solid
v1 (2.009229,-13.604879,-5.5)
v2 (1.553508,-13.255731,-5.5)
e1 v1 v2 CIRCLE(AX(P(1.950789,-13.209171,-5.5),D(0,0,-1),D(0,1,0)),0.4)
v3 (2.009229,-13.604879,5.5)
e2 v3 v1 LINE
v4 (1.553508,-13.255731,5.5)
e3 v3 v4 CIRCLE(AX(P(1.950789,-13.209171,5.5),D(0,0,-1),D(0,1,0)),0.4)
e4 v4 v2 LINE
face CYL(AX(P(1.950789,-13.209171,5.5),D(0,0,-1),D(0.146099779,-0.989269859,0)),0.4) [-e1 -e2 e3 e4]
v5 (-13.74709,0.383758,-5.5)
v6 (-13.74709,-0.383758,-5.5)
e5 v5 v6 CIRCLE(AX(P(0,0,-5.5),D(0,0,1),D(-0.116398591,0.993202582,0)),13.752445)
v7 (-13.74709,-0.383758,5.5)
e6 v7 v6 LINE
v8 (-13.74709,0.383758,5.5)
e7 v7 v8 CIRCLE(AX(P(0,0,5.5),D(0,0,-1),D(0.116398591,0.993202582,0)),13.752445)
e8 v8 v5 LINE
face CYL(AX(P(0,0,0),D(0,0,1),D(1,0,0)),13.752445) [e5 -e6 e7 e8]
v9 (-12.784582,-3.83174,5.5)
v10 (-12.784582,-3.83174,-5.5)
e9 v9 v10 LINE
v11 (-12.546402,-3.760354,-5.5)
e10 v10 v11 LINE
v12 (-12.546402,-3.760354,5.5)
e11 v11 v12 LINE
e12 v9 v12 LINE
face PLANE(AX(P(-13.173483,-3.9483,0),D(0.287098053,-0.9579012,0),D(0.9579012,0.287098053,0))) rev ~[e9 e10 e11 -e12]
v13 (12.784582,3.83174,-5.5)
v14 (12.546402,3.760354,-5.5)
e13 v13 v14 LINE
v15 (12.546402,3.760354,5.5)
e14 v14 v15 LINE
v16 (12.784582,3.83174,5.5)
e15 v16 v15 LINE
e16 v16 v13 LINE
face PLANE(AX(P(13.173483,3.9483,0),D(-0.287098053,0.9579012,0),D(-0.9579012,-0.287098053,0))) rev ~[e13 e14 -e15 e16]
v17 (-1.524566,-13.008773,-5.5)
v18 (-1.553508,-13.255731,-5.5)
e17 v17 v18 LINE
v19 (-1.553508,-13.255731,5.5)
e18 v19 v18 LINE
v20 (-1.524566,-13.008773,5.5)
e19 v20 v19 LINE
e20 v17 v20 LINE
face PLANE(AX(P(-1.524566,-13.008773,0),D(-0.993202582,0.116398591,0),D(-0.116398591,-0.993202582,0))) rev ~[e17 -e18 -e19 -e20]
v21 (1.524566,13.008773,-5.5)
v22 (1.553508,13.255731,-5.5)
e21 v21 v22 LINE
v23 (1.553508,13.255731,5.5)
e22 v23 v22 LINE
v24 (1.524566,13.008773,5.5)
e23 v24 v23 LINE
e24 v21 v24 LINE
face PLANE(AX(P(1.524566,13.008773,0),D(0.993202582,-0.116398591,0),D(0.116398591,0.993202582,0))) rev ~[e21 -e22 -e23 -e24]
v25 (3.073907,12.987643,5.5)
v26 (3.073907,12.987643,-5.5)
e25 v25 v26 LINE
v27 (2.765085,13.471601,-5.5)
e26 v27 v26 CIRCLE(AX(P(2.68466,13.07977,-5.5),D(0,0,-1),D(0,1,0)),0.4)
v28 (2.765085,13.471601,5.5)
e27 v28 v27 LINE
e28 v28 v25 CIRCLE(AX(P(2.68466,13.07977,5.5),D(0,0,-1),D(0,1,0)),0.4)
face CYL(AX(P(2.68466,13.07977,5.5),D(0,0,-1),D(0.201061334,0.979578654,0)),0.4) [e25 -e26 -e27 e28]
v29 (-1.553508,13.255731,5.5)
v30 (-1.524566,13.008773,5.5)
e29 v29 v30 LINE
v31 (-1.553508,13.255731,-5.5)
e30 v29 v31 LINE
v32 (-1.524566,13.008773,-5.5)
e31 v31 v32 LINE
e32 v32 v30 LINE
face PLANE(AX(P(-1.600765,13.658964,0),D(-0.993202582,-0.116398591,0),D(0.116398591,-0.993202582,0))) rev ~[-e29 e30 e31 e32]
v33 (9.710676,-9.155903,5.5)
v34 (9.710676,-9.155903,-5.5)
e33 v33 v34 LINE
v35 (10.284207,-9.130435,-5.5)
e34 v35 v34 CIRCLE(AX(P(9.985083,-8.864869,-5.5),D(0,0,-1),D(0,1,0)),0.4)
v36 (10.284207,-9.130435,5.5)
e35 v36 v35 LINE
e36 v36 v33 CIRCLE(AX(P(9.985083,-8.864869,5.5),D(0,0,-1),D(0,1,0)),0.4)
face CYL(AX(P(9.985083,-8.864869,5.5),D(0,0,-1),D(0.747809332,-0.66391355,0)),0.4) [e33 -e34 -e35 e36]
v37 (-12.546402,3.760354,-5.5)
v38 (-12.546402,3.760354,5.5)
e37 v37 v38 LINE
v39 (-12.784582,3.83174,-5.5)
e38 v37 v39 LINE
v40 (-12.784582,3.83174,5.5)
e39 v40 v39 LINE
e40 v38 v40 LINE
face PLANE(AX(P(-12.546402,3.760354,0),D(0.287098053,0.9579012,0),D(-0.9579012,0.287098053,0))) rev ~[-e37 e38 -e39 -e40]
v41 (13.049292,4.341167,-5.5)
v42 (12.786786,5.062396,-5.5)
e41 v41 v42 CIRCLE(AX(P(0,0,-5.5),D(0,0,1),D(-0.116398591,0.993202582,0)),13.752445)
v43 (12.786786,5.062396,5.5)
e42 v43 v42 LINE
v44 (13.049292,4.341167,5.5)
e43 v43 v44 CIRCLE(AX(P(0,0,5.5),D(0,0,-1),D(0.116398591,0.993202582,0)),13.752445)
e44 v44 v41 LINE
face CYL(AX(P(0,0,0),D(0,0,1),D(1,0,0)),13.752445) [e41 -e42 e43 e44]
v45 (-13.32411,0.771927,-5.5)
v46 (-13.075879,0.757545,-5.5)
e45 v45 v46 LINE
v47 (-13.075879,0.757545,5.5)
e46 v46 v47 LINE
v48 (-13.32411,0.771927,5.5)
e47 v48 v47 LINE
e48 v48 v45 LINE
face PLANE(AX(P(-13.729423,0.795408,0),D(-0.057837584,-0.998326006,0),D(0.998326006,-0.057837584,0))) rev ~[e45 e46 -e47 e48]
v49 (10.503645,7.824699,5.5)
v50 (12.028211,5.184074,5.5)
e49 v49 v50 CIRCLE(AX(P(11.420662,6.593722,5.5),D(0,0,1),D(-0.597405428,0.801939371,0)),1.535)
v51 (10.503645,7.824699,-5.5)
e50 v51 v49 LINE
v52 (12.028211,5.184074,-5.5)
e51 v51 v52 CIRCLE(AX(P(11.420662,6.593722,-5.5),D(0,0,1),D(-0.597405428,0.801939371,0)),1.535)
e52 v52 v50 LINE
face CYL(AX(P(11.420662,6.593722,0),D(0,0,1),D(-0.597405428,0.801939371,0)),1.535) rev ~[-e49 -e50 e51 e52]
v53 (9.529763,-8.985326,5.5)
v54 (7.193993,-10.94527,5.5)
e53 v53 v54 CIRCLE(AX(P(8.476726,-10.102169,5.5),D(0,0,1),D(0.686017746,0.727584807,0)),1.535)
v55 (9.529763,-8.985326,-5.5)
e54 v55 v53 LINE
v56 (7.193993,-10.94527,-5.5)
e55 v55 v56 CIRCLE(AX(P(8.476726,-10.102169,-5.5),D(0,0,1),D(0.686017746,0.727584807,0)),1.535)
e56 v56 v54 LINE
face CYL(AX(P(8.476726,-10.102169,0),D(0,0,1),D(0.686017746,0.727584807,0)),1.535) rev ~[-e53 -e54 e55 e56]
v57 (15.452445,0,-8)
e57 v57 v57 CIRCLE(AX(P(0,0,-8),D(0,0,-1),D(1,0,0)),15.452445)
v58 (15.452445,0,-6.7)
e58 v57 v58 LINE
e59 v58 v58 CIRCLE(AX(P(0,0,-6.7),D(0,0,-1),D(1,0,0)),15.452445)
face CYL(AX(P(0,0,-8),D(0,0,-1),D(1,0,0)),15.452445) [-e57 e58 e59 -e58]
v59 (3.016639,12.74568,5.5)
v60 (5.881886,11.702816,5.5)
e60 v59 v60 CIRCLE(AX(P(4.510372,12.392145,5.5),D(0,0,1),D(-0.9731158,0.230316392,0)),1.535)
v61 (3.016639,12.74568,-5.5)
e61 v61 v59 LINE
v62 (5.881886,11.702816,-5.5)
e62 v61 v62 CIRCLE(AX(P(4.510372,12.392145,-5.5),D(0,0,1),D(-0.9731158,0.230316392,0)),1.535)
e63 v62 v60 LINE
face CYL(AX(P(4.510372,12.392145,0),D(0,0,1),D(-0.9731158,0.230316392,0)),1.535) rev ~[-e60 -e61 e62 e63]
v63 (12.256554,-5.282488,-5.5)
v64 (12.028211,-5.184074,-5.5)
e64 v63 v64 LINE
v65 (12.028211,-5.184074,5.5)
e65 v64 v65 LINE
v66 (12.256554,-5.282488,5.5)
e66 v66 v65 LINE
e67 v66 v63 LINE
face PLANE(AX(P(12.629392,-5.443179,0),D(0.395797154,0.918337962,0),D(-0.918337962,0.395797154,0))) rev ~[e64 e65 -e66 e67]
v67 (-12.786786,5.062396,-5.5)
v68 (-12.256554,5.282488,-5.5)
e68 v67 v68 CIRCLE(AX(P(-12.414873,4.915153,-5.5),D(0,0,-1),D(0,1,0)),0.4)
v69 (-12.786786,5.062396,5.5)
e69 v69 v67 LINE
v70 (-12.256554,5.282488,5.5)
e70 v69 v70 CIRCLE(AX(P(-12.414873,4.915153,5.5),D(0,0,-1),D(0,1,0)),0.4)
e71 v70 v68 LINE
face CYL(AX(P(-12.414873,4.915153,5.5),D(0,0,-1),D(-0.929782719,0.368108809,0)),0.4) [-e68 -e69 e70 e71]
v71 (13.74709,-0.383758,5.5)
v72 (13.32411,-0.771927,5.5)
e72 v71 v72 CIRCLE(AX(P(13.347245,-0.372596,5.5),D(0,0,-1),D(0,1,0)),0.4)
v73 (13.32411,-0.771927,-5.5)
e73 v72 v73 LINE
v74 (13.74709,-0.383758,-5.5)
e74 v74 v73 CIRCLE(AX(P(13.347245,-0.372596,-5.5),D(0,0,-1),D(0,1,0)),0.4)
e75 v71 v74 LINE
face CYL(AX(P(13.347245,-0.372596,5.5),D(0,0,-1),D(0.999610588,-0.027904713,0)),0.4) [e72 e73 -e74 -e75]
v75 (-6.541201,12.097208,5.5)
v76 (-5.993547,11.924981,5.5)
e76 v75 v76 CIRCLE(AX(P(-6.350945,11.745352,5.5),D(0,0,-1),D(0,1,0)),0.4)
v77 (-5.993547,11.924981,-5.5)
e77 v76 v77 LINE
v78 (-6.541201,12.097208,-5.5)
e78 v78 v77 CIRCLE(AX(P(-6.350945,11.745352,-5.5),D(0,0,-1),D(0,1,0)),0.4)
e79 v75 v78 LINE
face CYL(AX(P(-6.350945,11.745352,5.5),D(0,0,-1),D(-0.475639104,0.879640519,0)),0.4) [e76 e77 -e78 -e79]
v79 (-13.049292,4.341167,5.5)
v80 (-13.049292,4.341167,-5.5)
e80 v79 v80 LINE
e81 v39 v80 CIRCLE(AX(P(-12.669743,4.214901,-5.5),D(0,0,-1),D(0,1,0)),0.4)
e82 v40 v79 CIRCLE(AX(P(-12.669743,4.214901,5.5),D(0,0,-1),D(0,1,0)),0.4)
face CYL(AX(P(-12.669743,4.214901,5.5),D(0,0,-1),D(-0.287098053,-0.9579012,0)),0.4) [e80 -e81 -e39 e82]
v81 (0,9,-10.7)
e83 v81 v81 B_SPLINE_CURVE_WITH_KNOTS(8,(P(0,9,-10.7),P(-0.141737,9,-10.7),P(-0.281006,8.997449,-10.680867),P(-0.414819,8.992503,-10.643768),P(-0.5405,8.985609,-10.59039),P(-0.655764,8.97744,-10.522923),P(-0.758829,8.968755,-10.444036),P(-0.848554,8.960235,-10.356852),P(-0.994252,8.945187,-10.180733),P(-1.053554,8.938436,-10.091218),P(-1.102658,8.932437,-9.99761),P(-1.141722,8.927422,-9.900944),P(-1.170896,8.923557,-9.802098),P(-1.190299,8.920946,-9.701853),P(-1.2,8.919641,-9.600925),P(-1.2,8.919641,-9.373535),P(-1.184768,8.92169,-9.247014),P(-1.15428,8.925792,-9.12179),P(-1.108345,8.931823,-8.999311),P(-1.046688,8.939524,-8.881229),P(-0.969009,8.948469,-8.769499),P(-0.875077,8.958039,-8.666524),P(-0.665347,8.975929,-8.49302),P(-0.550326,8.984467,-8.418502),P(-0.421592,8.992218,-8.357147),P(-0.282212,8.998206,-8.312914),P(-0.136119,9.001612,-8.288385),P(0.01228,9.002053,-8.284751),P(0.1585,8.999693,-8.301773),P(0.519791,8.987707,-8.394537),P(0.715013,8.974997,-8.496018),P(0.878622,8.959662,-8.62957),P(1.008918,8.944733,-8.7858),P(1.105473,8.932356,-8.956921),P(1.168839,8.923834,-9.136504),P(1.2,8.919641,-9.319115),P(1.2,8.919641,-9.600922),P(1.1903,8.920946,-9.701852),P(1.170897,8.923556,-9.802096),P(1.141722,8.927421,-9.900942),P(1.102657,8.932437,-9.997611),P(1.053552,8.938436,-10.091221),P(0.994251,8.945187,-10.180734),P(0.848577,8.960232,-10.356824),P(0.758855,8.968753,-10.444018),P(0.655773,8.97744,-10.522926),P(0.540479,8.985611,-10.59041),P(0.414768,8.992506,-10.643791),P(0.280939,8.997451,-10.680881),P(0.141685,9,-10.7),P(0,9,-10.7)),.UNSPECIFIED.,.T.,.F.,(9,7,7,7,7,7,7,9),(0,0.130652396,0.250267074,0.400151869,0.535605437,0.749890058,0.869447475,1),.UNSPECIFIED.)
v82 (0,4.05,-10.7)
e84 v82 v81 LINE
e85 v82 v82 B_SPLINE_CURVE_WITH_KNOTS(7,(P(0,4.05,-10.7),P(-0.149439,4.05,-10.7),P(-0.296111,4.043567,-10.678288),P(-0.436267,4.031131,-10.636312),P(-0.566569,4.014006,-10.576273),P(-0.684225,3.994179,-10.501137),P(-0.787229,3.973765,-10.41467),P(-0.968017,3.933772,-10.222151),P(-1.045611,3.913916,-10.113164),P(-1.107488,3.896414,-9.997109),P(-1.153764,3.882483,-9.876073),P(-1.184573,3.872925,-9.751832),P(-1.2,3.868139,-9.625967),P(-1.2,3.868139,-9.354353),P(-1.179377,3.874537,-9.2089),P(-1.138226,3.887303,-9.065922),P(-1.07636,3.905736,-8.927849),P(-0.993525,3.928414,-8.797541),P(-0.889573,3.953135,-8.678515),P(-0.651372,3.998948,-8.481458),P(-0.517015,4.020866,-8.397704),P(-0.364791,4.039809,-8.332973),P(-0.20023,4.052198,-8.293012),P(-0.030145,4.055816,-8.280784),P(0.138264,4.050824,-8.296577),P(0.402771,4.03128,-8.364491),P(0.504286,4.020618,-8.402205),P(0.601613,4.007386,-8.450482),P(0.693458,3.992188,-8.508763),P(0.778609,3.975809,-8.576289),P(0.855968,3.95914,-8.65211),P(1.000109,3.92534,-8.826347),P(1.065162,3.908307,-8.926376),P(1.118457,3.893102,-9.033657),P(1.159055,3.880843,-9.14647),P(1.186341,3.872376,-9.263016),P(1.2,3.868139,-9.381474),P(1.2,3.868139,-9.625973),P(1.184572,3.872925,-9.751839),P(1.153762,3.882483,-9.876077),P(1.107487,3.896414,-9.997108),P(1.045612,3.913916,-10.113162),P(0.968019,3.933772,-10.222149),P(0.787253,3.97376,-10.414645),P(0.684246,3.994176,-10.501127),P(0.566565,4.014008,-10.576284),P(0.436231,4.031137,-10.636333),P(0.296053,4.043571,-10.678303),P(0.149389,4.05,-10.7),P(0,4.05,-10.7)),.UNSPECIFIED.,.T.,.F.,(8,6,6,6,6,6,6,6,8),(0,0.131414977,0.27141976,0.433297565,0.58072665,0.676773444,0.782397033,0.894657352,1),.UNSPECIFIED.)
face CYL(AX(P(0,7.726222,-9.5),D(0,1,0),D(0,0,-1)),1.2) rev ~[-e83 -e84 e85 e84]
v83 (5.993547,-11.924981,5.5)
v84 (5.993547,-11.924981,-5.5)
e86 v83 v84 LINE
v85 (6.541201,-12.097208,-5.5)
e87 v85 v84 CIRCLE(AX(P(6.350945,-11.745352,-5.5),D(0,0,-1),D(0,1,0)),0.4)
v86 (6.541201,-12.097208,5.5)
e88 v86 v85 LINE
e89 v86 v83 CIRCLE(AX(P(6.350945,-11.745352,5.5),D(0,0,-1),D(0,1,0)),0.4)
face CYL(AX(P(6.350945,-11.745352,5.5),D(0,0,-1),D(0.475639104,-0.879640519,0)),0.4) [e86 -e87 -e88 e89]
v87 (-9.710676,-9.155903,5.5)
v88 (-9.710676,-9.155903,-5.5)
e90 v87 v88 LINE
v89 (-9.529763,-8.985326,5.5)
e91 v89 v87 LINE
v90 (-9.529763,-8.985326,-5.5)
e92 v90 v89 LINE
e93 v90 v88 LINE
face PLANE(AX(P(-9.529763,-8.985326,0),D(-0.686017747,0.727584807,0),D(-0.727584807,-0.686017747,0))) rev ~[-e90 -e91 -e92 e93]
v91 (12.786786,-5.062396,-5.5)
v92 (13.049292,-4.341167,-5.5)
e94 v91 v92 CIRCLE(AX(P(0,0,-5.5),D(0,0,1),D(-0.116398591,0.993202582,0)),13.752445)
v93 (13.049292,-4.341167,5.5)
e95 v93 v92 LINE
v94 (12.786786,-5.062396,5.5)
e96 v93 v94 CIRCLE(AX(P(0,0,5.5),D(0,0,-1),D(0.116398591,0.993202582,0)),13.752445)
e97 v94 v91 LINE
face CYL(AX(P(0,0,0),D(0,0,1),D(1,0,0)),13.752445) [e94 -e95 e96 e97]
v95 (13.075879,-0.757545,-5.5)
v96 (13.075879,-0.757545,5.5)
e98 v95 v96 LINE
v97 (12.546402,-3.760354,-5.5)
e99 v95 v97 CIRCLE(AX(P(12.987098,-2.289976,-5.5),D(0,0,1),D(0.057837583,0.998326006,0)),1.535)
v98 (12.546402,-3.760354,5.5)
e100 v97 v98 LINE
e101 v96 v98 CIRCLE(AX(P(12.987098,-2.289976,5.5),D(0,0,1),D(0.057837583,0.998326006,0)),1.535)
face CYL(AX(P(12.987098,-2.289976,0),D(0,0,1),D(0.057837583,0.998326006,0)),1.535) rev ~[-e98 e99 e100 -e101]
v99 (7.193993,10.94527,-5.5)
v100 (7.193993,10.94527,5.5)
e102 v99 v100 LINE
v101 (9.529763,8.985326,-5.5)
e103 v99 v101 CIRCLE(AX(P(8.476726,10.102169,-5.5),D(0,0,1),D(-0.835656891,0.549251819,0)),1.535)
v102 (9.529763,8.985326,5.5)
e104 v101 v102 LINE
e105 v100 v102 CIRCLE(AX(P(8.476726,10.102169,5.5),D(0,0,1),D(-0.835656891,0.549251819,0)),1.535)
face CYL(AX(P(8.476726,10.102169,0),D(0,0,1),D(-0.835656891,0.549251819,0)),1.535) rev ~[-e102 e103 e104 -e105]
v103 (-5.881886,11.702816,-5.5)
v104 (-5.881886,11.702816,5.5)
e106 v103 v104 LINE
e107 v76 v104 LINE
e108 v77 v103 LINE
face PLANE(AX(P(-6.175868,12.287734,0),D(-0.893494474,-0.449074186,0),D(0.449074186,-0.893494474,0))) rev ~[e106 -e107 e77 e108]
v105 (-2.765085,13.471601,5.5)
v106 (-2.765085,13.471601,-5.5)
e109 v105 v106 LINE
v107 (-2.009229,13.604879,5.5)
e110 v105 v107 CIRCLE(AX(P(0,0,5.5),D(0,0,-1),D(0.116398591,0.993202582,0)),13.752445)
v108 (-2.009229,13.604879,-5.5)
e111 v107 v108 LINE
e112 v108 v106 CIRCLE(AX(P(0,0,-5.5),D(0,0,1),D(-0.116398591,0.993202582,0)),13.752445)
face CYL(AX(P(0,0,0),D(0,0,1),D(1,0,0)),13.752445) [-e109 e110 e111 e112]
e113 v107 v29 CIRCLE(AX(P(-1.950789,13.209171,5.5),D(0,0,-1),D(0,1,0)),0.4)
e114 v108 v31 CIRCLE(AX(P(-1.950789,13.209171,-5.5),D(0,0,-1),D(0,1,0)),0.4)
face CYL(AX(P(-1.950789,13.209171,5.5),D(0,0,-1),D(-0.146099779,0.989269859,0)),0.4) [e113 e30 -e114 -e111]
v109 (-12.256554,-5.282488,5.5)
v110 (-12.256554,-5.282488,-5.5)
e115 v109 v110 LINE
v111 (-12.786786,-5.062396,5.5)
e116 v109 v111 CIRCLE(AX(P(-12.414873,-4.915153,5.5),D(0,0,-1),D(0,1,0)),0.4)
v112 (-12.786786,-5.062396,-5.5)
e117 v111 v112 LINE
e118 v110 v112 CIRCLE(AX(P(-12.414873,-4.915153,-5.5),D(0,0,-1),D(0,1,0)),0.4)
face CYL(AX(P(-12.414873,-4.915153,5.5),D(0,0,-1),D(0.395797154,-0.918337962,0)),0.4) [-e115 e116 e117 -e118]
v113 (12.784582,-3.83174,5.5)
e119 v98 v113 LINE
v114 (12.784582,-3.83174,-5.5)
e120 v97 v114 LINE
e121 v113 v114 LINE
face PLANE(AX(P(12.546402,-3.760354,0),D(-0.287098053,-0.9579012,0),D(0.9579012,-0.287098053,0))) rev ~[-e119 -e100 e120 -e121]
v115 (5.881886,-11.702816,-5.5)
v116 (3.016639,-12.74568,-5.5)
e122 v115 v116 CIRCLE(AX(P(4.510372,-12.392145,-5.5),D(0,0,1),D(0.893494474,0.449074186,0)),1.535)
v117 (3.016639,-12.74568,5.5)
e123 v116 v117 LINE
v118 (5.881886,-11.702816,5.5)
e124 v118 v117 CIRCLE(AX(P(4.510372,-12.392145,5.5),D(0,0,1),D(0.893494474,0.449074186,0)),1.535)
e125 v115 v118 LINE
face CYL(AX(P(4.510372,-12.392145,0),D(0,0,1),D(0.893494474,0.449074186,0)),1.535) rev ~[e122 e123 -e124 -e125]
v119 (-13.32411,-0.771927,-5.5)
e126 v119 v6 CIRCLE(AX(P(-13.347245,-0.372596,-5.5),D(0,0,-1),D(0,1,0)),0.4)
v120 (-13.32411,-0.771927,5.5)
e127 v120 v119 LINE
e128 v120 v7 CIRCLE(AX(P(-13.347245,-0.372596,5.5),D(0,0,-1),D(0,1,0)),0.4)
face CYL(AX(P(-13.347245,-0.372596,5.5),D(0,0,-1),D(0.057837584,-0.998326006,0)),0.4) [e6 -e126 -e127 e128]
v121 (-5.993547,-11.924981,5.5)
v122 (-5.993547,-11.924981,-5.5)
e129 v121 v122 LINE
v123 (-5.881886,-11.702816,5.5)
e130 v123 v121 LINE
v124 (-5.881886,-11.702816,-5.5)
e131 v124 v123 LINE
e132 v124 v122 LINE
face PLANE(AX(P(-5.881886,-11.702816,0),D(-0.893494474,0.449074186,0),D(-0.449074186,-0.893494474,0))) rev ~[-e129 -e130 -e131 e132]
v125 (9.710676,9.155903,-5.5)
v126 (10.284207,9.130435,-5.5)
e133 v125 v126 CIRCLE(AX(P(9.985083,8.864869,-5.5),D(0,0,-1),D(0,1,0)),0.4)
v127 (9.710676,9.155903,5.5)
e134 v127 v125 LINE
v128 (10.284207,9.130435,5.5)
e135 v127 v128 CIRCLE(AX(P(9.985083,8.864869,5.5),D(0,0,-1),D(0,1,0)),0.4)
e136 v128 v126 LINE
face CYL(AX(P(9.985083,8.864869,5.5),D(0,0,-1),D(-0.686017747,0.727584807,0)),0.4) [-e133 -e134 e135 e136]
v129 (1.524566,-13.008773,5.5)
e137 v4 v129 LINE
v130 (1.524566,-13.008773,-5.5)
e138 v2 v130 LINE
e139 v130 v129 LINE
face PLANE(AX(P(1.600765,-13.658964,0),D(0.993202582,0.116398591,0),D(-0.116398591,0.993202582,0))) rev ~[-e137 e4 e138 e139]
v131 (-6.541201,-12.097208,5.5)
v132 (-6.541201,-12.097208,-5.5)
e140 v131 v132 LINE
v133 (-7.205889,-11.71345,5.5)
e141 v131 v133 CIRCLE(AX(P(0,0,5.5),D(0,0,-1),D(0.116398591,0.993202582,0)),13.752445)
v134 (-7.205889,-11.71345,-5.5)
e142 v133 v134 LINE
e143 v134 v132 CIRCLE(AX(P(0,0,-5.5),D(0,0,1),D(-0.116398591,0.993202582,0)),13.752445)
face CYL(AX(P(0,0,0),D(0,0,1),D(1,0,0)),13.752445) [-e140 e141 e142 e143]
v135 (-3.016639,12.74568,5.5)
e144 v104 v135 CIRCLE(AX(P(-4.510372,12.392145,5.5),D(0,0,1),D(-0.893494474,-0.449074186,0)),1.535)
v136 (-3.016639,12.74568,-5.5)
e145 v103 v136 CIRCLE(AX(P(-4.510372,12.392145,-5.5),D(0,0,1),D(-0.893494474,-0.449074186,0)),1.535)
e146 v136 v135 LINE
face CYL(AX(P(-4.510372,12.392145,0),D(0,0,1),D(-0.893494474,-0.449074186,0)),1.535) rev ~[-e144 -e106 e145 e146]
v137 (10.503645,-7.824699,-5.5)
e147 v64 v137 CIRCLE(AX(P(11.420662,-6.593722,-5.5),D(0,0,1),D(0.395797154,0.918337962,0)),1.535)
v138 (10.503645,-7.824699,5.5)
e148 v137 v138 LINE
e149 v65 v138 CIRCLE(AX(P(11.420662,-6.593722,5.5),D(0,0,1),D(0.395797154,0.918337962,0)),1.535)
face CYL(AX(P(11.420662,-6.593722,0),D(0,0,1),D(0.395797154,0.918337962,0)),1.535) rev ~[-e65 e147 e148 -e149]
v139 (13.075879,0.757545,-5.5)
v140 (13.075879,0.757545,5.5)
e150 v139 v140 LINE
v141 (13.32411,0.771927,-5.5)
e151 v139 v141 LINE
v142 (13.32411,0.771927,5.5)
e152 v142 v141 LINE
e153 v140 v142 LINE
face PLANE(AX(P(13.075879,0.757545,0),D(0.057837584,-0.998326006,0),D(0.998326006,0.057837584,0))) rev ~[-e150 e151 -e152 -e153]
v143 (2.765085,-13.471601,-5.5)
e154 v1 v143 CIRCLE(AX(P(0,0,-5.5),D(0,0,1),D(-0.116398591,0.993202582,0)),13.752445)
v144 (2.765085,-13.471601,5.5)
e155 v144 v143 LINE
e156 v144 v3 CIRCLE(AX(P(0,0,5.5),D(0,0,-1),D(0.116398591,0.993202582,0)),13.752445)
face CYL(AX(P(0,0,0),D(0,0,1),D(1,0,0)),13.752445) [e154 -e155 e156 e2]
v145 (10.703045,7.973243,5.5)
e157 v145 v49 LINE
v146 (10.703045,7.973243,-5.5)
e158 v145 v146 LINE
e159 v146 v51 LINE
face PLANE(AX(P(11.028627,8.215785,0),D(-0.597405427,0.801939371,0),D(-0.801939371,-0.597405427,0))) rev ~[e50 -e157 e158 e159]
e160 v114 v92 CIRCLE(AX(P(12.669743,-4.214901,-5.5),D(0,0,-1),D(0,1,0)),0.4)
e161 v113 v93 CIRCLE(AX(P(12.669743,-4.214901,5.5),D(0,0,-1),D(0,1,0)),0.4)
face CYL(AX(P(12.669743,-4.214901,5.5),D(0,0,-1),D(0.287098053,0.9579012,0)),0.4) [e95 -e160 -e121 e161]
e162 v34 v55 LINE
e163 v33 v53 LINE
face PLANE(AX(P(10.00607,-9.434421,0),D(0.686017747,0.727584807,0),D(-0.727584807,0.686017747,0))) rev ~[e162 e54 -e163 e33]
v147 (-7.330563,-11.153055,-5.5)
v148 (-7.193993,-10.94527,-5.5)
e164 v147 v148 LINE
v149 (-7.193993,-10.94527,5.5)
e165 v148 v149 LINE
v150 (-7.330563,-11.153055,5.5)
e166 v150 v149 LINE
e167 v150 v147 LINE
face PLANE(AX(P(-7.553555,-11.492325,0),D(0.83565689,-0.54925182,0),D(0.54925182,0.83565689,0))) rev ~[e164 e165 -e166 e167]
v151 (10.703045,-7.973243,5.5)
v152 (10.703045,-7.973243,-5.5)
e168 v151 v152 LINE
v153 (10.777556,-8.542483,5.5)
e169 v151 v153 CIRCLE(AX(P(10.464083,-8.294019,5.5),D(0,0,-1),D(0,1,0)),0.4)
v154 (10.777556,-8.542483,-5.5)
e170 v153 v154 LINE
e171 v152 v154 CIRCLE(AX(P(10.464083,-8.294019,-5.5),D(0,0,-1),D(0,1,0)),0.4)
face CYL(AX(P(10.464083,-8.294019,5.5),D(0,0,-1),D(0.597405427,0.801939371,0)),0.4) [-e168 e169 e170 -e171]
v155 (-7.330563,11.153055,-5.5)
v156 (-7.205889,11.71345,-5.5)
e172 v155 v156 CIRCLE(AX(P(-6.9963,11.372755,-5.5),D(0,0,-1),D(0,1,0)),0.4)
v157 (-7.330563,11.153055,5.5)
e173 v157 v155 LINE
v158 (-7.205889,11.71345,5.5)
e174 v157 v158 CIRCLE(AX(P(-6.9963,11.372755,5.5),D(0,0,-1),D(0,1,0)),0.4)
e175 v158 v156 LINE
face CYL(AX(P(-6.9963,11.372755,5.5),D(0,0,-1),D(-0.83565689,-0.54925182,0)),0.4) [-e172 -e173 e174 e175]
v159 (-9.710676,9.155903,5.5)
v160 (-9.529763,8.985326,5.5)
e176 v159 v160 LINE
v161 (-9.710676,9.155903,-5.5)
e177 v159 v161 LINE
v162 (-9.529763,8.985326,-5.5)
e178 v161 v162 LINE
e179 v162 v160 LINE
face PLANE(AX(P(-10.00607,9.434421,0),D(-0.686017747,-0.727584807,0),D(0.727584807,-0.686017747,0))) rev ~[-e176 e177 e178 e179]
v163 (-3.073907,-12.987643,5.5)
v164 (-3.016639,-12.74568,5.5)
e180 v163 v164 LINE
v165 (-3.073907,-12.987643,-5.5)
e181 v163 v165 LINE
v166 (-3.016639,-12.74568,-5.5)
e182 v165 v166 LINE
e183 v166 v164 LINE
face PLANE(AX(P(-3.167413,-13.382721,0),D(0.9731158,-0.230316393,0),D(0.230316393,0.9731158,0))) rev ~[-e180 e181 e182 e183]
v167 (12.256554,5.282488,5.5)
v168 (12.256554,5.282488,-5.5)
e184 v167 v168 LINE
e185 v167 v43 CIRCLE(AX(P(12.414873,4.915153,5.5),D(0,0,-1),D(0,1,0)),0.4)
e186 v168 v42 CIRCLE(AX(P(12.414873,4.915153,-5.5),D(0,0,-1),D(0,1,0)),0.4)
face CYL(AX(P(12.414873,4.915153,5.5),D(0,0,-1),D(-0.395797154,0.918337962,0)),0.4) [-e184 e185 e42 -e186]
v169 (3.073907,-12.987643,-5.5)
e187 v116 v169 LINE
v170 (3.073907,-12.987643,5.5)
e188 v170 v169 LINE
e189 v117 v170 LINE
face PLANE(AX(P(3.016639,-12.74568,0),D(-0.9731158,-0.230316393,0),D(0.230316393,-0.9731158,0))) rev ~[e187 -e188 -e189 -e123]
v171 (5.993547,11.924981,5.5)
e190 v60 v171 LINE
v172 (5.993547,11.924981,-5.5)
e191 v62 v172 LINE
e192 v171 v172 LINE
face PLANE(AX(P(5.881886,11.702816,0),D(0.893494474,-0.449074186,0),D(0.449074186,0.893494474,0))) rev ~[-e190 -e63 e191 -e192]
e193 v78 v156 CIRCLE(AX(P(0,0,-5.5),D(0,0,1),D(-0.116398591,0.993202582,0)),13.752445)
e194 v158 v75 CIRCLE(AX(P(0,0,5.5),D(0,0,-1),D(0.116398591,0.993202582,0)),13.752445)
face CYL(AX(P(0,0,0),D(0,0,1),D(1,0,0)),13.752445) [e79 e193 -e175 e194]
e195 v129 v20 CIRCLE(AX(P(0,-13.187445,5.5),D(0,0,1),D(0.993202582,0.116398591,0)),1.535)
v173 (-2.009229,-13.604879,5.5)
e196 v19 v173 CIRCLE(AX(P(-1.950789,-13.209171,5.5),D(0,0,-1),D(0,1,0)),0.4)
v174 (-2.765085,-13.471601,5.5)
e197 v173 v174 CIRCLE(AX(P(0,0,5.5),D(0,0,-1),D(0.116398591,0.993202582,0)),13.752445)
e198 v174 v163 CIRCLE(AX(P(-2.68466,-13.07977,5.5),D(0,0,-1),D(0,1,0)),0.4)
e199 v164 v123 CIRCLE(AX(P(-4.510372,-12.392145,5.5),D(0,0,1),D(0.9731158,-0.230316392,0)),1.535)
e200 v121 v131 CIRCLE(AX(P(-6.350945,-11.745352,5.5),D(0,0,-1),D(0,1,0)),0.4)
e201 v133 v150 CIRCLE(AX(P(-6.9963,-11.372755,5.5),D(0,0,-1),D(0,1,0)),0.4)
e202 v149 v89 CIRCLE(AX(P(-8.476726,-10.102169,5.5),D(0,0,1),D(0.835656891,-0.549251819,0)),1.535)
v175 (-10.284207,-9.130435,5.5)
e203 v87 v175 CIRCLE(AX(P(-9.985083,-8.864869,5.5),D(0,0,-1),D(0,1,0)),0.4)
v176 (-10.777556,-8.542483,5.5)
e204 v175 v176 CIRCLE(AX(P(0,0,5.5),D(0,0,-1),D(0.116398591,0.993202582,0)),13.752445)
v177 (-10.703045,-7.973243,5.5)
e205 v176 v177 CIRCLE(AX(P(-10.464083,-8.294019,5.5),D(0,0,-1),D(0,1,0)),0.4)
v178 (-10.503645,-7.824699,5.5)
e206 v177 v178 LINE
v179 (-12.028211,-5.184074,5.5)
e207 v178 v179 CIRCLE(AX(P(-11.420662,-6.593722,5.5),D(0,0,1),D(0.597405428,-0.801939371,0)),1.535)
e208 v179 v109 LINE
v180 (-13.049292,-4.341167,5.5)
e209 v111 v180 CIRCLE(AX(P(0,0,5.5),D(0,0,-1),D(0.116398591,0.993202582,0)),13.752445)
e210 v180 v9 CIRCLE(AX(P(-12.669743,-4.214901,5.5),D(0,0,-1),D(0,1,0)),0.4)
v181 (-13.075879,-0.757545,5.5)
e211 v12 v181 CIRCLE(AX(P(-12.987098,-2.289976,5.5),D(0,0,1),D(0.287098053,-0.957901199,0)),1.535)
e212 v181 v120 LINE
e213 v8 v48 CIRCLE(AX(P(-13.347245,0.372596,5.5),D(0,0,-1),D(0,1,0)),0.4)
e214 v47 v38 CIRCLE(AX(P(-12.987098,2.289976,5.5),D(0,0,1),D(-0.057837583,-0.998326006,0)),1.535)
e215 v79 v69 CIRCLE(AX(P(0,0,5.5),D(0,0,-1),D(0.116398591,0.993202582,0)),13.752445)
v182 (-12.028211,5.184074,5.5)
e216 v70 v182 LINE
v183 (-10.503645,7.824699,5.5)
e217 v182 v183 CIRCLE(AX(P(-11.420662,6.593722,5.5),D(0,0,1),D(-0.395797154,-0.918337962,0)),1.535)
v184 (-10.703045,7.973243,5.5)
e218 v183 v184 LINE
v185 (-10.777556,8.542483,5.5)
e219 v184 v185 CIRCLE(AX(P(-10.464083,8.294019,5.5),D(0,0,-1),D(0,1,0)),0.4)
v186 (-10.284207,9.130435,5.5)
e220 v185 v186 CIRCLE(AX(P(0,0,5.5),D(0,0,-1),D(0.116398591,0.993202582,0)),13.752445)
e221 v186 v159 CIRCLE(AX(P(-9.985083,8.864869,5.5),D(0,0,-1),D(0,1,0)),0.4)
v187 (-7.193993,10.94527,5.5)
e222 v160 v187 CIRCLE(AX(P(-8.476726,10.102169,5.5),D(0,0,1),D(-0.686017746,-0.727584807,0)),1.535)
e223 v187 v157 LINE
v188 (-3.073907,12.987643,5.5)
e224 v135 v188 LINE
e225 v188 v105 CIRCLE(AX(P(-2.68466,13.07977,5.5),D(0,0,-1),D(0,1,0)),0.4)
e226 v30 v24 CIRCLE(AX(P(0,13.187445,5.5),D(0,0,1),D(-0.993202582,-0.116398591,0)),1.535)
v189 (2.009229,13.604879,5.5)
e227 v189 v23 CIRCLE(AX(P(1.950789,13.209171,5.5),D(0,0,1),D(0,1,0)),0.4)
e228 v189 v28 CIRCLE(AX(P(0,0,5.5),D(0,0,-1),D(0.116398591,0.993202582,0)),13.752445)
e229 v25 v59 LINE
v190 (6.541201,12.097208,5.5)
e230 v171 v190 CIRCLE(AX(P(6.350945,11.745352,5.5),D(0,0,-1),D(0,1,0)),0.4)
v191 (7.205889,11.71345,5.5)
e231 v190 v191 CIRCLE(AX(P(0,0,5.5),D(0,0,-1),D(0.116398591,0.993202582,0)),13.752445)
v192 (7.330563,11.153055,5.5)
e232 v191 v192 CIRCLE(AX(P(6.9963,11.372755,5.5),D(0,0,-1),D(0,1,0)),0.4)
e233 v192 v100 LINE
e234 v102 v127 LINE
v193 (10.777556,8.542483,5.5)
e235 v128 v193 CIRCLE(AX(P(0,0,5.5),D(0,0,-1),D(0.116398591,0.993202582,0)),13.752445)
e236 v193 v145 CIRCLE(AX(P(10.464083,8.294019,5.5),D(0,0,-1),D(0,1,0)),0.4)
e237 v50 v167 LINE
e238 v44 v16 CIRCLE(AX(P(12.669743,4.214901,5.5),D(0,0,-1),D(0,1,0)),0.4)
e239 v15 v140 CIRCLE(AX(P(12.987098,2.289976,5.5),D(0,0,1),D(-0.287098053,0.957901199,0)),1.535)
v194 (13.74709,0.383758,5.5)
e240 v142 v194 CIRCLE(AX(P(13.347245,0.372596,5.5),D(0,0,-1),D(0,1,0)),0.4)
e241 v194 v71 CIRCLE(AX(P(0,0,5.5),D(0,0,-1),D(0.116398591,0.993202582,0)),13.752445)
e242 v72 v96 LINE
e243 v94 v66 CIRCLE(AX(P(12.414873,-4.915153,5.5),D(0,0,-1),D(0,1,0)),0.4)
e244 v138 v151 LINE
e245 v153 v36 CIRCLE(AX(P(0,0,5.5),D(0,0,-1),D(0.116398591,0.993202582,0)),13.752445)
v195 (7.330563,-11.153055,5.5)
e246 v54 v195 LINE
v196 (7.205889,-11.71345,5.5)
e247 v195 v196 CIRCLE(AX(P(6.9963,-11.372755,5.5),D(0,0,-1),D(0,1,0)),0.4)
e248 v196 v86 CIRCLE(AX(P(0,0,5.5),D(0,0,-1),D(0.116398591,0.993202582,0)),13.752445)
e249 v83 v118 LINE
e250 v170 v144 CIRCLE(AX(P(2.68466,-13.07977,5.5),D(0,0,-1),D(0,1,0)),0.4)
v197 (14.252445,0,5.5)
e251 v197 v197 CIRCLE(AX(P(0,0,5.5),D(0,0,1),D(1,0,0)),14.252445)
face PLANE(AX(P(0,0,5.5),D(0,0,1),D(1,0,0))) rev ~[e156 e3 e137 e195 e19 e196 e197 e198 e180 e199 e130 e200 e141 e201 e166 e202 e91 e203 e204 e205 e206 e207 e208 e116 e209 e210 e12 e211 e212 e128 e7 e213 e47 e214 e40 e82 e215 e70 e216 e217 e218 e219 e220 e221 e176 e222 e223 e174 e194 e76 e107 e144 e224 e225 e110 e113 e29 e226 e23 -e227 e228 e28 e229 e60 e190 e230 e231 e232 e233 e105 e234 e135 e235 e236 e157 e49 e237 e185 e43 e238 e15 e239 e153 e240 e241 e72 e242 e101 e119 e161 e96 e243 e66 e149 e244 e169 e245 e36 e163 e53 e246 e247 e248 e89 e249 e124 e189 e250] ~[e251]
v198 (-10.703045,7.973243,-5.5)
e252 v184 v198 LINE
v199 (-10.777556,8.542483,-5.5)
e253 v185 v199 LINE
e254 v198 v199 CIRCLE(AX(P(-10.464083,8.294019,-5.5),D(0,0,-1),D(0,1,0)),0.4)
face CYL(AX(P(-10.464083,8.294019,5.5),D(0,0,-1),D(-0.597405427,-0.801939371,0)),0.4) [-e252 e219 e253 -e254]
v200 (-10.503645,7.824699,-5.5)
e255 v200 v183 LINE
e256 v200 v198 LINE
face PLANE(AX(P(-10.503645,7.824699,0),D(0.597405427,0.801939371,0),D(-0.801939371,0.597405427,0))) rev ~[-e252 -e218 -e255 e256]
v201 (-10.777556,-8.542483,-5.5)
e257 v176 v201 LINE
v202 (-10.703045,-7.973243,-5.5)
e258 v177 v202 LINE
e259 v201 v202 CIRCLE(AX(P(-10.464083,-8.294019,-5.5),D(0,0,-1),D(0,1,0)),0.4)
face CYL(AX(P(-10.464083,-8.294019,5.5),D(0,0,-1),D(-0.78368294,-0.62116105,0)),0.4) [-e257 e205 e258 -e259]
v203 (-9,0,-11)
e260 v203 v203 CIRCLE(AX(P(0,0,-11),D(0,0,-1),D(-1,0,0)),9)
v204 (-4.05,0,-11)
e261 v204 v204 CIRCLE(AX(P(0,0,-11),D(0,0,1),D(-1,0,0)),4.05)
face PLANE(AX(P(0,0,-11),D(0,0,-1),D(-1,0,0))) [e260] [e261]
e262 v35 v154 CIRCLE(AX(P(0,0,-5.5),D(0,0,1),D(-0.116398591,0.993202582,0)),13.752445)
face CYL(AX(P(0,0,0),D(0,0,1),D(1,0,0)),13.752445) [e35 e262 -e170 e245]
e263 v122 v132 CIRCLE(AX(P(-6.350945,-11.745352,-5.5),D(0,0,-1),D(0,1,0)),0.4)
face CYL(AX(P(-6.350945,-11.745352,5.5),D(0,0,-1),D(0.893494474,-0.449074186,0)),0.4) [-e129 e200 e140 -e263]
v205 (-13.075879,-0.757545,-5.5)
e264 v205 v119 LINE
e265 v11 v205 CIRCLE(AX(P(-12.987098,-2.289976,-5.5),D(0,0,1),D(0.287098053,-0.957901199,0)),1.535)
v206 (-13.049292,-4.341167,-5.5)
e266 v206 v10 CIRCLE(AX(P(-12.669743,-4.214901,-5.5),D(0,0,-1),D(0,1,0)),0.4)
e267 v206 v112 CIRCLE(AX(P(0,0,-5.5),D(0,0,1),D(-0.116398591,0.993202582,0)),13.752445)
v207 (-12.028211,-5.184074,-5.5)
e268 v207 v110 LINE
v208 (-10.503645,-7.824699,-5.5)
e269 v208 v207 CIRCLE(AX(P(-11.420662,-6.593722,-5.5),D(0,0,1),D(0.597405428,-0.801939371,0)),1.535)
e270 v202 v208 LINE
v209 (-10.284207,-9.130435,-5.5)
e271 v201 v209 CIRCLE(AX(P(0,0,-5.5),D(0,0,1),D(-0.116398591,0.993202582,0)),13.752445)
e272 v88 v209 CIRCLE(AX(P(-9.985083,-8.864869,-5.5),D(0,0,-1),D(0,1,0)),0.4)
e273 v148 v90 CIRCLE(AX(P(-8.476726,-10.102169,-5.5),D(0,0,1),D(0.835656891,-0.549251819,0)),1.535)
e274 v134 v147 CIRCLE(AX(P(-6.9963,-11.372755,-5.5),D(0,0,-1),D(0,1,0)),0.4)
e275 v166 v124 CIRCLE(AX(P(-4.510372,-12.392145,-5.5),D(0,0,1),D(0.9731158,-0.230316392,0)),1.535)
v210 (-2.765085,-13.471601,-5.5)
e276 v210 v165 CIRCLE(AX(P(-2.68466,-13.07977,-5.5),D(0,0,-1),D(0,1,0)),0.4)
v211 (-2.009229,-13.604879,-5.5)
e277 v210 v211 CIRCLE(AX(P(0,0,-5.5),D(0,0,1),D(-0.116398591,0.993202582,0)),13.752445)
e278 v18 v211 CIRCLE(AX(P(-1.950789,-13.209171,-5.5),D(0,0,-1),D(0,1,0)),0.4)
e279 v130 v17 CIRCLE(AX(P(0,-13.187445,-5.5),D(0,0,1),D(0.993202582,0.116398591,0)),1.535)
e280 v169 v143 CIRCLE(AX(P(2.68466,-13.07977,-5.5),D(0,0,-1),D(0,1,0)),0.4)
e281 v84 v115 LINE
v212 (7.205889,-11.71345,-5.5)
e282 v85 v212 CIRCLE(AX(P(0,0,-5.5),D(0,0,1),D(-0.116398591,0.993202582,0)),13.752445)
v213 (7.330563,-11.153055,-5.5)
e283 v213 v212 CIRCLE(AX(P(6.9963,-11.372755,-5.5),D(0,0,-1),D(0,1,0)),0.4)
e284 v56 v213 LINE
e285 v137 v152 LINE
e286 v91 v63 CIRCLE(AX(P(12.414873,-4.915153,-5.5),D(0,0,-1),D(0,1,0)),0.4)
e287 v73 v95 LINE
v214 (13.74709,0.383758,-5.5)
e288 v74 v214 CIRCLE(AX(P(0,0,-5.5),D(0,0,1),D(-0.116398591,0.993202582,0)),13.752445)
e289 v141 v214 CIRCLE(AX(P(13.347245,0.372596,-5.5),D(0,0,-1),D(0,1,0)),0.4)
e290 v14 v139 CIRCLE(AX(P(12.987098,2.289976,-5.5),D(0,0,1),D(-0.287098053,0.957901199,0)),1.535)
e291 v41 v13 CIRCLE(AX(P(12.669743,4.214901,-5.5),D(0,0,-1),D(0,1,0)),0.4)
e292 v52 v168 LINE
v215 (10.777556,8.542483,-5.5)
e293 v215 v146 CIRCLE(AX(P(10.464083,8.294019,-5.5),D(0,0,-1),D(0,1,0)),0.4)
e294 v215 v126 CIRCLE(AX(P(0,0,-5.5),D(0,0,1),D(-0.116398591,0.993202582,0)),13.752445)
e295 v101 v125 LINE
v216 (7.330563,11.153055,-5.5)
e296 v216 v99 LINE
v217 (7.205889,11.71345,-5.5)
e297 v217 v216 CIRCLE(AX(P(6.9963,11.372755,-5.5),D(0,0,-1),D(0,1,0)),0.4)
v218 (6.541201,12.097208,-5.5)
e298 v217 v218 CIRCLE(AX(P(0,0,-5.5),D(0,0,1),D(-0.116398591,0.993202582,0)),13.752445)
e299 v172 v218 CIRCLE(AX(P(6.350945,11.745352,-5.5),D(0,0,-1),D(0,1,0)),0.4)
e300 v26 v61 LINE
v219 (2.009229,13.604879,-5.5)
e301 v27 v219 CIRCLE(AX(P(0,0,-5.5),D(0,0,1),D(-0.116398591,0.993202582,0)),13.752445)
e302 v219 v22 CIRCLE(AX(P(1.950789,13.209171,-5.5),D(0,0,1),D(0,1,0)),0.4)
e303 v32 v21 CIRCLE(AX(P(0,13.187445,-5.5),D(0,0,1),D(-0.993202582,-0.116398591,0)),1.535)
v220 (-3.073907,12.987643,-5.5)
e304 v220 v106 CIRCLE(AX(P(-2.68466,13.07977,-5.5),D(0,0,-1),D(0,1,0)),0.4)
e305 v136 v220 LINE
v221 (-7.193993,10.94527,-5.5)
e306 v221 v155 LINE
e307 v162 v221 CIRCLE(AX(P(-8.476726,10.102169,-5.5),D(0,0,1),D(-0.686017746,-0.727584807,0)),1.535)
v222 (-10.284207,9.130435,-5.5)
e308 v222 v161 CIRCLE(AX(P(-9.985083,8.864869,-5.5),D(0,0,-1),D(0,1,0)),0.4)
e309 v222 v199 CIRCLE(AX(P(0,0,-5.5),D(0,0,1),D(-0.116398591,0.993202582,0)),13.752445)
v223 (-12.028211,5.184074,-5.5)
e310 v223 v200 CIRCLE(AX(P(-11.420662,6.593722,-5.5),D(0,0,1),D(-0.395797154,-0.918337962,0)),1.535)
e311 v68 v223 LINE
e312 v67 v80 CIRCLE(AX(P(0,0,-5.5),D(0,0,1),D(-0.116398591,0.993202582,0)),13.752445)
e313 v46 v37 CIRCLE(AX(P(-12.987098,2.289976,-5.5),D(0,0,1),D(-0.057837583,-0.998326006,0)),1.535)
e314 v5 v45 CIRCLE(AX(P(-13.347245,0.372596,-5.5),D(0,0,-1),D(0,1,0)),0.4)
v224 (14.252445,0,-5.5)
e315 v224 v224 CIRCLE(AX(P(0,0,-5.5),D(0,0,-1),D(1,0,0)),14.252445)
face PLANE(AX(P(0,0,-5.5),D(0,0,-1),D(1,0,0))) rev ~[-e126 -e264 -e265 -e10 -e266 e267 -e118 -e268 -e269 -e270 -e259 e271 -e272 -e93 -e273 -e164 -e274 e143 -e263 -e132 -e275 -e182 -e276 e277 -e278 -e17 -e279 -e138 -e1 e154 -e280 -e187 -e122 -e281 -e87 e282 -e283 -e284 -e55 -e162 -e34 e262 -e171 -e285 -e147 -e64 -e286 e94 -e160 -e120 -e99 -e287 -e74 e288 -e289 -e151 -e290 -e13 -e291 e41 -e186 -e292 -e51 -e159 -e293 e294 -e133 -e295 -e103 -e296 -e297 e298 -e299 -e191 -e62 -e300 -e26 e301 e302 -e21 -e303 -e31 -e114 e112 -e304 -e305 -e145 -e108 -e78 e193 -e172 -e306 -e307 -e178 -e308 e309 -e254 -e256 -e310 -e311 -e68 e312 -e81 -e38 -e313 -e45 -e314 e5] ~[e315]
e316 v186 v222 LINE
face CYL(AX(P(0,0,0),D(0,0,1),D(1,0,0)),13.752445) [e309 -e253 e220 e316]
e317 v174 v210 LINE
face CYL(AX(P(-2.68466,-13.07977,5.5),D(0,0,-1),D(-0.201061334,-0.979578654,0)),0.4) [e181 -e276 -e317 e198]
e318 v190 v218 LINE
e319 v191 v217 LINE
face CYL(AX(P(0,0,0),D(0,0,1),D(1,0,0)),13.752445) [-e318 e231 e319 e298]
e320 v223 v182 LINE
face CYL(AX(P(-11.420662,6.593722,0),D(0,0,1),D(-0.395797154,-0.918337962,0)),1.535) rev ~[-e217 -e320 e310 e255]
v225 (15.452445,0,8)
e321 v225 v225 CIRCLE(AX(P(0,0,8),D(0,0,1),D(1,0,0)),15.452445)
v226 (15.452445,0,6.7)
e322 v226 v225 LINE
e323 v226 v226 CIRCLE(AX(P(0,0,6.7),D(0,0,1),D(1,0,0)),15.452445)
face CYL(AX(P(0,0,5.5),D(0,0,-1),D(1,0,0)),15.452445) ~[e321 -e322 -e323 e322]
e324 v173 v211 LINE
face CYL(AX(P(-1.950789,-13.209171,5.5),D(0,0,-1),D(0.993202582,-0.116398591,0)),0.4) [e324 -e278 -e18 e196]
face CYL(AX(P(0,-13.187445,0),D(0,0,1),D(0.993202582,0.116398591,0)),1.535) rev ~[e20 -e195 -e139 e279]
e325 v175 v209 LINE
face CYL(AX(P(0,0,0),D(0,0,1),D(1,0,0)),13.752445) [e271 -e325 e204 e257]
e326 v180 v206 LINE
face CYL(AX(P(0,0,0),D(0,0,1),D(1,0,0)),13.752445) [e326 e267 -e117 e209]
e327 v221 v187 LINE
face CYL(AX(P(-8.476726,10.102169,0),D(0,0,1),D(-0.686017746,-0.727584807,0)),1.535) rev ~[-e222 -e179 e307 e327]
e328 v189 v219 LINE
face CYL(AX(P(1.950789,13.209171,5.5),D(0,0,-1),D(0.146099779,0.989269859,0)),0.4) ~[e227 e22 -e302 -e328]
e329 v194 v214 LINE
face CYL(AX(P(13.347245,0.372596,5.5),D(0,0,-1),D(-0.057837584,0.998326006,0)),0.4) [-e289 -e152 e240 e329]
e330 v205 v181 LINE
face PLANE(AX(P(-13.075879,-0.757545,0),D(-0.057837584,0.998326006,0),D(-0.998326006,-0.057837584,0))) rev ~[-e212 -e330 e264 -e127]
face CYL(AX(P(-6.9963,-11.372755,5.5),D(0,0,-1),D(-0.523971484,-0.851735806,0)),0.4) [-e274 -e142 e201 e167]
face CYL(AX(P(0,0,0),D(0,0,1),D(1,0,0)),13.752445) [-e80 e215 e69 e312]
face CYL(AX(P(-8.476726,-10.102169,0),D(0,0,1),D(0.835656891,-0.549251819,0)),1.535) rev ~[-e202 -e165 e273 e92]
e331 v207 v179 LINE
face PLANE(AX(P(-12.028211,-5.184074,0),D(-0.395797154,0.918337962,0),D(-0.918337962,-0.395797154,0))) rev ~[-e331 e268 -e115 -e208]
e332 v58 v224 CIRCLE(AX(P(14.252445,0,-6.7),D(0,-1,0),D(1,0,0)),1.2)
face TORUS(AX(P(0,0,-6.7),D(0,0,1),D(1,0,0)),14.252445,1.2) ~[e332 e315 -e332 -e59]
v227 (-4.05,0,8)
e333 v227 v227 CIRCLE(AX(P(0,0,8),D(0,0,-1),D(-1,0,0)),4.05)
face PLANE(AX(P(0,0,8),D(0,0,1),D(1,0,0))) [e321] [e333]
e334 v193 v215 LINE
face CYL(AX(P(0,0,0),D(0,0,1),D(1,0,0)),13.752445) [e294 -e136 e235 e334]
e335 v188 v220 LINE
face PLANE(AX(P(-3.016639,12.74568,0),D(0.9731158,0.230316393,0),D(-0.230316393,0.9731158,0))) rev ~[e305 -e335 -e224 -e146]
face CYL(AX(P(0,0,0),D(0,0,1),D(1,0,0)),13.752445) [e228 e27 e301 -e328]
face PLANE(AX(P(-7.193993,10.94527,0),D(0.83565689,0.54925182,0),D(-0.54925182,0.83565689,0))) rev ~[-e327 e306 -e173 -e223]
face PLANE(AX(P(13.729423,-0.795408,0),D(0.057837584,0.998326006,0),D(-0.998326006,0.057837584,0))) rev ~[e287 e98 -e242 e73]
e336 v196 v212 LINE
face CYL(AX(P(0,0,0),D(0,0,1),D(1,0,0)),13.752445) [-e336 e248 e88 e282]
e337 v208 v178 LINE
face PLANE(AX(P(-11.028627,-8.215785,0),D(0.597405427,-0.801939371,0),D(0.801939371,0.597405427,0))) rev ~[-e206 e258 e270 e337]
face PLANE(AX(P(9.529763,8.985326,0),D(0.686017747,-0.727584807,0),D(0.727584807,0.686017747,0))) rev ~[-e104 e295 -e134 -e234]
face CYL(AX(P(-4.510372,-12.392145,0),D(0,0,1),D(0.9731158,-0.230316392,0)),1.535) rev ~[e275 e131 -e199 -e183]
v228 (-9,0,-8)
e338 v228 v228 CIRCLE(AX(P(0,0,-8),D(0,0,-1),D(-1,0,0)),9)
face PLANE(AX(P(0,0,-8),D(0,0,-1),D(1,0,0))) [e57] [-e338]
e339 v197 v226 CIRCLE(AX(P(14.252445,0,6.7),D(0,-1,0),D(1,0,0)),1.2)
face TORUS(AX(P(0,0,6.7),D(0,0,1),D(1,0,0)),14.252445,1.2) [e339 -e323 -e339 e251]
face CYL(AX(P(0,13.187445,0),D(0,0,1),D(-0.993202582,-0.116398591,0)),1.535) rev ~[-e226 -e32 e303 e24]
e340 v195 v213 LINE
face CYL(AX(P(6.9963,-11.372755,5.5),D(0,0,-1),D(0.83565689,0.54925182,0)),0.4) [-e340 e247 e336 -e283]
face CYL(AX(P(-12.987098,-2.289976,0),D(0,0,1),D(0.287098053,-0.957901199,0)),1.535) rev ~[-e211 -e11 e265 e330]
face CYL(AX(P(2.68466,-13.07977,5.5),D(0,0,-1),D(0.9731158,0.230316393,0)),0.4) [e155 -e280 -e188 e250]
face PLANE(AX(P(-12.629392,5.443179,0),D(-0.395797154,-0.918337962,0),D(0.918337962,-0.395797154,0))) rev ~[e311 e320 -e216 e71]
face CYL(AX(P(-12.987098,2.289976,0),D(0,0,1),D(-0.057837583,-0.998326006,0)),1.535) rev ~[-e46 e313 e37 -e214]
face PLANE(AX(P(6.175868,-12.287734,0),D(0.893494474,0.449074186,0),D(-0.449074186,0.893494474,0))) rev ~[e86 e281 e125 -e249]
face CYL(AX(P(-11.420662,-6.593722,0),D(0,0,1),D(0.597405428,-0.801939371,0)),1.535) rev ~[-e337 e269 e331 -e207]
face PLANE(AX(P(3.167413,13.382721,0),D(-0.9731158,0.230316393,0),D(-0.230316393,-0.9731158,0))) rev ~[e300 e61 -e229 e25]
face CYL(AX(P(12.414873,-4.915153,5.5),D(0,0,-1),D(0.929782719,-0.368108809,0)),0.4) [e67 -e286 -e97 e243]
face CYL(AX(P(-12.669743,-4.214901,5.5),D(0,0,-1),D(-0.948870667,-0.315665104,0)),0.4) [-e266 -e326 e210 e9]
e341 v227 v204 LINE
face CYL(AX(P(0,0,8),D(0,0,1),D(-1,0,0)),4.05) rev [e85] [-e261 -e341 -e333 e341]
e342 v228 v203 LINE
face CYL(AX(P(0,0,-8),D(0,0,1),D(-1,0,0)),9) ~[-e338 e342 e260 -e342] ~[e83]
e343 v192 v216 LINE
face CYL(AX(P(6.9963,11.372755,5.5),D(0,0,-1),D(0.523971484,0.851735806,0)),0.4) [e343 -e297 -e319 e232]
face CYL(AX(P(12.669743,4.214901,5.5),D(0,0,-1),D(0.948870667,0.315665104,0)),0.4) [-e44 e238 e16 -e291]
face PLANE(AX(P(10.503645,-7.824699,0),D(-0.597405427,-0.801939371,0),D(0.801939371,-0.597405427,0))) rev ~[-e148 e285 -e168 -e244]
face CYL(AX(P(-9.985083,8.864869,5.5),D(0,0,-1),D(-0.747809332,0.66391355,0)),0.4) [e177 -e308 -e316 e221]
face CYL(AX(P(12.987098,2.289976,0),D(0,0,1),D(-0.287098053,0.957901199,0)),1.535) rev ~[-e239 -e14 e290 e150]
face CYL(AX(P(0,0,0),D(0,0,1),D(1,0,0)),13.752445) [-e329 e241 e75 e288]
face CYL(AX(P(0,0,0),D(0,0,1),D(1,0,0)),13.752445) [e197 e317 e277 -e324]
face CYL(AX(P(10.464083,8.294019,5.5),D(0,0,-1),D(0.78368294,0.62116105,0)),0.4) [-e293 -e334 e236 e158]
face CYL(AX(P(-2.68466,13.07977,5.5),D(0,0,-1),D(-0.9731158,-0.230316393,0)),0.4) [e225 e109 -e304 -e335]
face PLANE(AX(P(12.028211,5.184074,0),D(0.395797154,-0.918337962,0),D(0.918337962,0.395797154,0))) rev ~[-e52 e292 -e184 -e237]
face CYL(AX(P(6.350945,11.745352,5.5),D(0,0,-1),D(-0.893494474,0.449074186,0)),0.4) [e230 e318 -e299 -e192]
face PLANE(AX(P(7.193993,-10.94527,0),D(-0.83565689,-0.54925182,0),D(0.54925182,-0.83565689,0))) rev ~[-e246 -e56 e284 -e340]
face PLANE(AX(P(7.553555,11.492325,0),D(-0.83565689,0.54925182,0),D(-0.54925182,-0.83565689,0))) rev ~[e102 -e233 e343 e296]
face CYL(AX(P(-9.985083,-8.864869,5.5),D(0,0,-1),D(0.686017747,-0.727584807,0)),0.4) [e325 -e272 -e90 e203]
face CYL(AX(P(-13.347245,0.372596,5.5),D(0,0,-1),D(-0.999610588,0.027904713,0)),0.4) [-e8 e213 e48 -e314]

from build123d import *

# Parameters (mm, degrees)
SKETCH_3_R                       = 13.752444878
EXTRUDE_2_DEPTH                  = 5.5
CUT_EXTRUDE_2_DEPTH              = 21.211617458
FILLET_1_R                       = 0.4
PATTERN_CIRCULAR_1_COUNT         = 18
FILLET_1_OF_PATTERN_CIRCULAR_1_R = 0.4
SKETCH_12_R                      = 15.452444878
EXTRUDE_4_DEPTH                  = 2.5
EXTRUDE_START                    = 2.5
SKETCH_13_R                      = 15.452444878
EXTRUDE_5_DEPTH                  = 2.5
FILLET_2_R                       = 1.2
SKETCH_5_R                       = 9
EXTRUDE_3_DEPTH                  = 3
SKETCH_4_R                       = 4.05
CUT_EXTRUDE_3_DEPTH              = 29.957833231
SKETCH_8_W                       = 1.2
SKETCH_8_H                       = 15.452444878


with BuildPart() as part:
    # 스케치3 → 보스-돌출2 (new, symmetric)
    with BuildSketch(Plane.XY):
        Circle(SKETCH_3_R)
    extrude(amount=EXTRUDE_2_DEPTH, both=True)

    # 스케치3<3> → 컷-돌출2 (cut, symmetric)
    with BuildSketch(Plane.XY):
        with BuildLine():
            Line((-1.600765204, 13.658963756), (-1.524565963, 13.008773041))
            ThreePointArc((-1.524565963, 13.008773041), (0, 11.652444878), (1.524565963, 13.008773041))
            Line((1.524565963, 13.008773041), (1.600765204, 13.658963756))
            ThreePointArc((1.600765204, 13.658963756), (0, 13.752444878), (-1.600765204, 13.658963756))
        make_face()
    cut_extrude_2 = extrude(amount=CUT_EXTRUDE_2_DEPTH, both=True, mode=Mode.SUBTRACT)

    # 필렛1
    fillet_1_edges = [part.edges().sort_by_distance(p)[0] for p in [
        (1.600765204, 13.658963756, 0),
        (-1.600765204, 13.658963756, 0),
    ]]
    fillet(fillet_1_edges, radius=FILLET_1_R)

    # 원형 패턴1: 컷-돌출2 ×18 about axis
    pattern_circular_1_axis = Axis((0, 0, 5.5), (0, 0, -1))
    for i in range(1, PATTERN_CIRCULAR_1_COUNT):
        add(cut_extrude_2.rotate(pattern_circular_1_axis, i * 360 / PATTERN_CIRCULAR_1_COUNT), mode=Mode.SUBTRACT)

    # 필렛1 of 원형 패턴1
    fillet_1_of_pattern_circular_1_edges = [part.edges().sort_by_distance(p)[0] for p in [
        (6.175867991, 12.287733505, 0),
        (3.167413492, 13.382721394, 0),
        (10.006069953, 9.434421245, 0),
        (7.553555375, 11.492325323, 0),
        (12.629392204, 5.443178546, 0),
        (11.028627, 8.21578521, 0),
        (13.729423366, 0.795408182, 0),
        (13.173483445, 3.948300149, 0),
        (13.173483445, -3.948300149, 0),
        (13.729423366, -0.795408182, 0),
        (11.028627, -8.21578521, 0),
        (12.629392204, -5.443178546, 0),
        (7.553555375, -11.492325323, 0),
        (10.006069953, -9.434421245, 0),
        (3.167413492, -13.382721394, 0),
        (6.175867991, -12.287733505, 0),
        (-1.600765204, -13.658963756, 0),
        (1.600765204, -13.658963756, 0),
        (-6.175867991, -12.287733505, 0),
        (-3.167413492, -13.382721394, 0),
        (-10.006069953, -9.434421245, 0),
        (-7.553555375, -11.492325323, 0),
        (-12.629392204, -5.443178546, 0),
        (-11.028627, -8.21578521, 0),
        (-13.729423366, -0.795408182, 0),
        (-13.173483445, -3.948300149, 0),
        (-13.173483445, 3.948300149, 0),
        (-13.729423366, 0.795408182, 0),
        (-11.028627, 8.21578521, 0),
        (-12.629392204, 5.443178546, 0),
        (-7.553555375, 11.492325323, 0),
        (-10.006069953, 9.434421245, 0),
        (-3.167413492, 13.382721394, 0),
        (-6.175867991, 12.287733505, 0),
    ]]
    fillet(fillet_1_of_pattern_circular_1_edges, radius=FILLET_1_OF_PATTERN_CIRCULAR_1_R)

    # 스케치12 → 보스-돌출4 (add)
    with BuildSketch(Plane.XY.offset(5.5)):
        Circle(SKETCH_12_R)
    extrude(amount=EXTRUDE_4_DEPTH)

    # 스케치13 → 보스-돌출5 (add)
    with BuildSketch(Plane(origin=(0, 0, -5.5), x_dir=(-1, 0, 0), z_dir=(0, 0, -1)).offset(EXTRUDE_START)):
        Circle(SKETCH_13_R)
    extrude(amount=-EXTRUDE_5_DEPTH)

    # 필렛2
    fillet_2_edges = [part.edges().sort_by_distance(p)[0] for p in [
        (-15.452444878, 0, 5.5),
        (15.452444878, 0, -5.5),
    ]]
    fillet(fillet_2_edges, radius=FILLET_2_R)

    # 스케치5 → 보스-돌출3 (add)
    with BuildSketch(Plane(origin=(0, 0, -8), x_dir=(-1, 0, 0), z_dir=(0, 0, -1))):
        Circle(SKETCH_5_R)
    extrude(amount=EXTRUDE_3_DEPTH)

    # 스케치4 → 컷-돌출3 (cut, through all)
    with BuildSketch(Plane(origin=(0, 0, 8), x_dir=(-1, 0, 0), z_dir=(0, 0, -1))):
        Circle(SKETCH_4_R)
    extrude(amount=CUT_EXTRUDE_3_DEPTH, mode=Mode.SUBTRACT)

    # 스케치8 → M3x0.5 탭을 위한 탭 드릴1 (revolve, cut)
    with BuildSketch(Plane(origin=(0, 0, -9.5), x_dir=(0, 0, -1), z_dir=(1, 0, 0))):
        with Locations((0.6, 7.726222439)):
            Rectangle(SKETCH_8_W, SKETCH_8_H)
    revolve(axis=Axis((0, -6.35, -9.5), (0, 1, 0)), mode=Mode.SUBTRACT)


solid = part.part
